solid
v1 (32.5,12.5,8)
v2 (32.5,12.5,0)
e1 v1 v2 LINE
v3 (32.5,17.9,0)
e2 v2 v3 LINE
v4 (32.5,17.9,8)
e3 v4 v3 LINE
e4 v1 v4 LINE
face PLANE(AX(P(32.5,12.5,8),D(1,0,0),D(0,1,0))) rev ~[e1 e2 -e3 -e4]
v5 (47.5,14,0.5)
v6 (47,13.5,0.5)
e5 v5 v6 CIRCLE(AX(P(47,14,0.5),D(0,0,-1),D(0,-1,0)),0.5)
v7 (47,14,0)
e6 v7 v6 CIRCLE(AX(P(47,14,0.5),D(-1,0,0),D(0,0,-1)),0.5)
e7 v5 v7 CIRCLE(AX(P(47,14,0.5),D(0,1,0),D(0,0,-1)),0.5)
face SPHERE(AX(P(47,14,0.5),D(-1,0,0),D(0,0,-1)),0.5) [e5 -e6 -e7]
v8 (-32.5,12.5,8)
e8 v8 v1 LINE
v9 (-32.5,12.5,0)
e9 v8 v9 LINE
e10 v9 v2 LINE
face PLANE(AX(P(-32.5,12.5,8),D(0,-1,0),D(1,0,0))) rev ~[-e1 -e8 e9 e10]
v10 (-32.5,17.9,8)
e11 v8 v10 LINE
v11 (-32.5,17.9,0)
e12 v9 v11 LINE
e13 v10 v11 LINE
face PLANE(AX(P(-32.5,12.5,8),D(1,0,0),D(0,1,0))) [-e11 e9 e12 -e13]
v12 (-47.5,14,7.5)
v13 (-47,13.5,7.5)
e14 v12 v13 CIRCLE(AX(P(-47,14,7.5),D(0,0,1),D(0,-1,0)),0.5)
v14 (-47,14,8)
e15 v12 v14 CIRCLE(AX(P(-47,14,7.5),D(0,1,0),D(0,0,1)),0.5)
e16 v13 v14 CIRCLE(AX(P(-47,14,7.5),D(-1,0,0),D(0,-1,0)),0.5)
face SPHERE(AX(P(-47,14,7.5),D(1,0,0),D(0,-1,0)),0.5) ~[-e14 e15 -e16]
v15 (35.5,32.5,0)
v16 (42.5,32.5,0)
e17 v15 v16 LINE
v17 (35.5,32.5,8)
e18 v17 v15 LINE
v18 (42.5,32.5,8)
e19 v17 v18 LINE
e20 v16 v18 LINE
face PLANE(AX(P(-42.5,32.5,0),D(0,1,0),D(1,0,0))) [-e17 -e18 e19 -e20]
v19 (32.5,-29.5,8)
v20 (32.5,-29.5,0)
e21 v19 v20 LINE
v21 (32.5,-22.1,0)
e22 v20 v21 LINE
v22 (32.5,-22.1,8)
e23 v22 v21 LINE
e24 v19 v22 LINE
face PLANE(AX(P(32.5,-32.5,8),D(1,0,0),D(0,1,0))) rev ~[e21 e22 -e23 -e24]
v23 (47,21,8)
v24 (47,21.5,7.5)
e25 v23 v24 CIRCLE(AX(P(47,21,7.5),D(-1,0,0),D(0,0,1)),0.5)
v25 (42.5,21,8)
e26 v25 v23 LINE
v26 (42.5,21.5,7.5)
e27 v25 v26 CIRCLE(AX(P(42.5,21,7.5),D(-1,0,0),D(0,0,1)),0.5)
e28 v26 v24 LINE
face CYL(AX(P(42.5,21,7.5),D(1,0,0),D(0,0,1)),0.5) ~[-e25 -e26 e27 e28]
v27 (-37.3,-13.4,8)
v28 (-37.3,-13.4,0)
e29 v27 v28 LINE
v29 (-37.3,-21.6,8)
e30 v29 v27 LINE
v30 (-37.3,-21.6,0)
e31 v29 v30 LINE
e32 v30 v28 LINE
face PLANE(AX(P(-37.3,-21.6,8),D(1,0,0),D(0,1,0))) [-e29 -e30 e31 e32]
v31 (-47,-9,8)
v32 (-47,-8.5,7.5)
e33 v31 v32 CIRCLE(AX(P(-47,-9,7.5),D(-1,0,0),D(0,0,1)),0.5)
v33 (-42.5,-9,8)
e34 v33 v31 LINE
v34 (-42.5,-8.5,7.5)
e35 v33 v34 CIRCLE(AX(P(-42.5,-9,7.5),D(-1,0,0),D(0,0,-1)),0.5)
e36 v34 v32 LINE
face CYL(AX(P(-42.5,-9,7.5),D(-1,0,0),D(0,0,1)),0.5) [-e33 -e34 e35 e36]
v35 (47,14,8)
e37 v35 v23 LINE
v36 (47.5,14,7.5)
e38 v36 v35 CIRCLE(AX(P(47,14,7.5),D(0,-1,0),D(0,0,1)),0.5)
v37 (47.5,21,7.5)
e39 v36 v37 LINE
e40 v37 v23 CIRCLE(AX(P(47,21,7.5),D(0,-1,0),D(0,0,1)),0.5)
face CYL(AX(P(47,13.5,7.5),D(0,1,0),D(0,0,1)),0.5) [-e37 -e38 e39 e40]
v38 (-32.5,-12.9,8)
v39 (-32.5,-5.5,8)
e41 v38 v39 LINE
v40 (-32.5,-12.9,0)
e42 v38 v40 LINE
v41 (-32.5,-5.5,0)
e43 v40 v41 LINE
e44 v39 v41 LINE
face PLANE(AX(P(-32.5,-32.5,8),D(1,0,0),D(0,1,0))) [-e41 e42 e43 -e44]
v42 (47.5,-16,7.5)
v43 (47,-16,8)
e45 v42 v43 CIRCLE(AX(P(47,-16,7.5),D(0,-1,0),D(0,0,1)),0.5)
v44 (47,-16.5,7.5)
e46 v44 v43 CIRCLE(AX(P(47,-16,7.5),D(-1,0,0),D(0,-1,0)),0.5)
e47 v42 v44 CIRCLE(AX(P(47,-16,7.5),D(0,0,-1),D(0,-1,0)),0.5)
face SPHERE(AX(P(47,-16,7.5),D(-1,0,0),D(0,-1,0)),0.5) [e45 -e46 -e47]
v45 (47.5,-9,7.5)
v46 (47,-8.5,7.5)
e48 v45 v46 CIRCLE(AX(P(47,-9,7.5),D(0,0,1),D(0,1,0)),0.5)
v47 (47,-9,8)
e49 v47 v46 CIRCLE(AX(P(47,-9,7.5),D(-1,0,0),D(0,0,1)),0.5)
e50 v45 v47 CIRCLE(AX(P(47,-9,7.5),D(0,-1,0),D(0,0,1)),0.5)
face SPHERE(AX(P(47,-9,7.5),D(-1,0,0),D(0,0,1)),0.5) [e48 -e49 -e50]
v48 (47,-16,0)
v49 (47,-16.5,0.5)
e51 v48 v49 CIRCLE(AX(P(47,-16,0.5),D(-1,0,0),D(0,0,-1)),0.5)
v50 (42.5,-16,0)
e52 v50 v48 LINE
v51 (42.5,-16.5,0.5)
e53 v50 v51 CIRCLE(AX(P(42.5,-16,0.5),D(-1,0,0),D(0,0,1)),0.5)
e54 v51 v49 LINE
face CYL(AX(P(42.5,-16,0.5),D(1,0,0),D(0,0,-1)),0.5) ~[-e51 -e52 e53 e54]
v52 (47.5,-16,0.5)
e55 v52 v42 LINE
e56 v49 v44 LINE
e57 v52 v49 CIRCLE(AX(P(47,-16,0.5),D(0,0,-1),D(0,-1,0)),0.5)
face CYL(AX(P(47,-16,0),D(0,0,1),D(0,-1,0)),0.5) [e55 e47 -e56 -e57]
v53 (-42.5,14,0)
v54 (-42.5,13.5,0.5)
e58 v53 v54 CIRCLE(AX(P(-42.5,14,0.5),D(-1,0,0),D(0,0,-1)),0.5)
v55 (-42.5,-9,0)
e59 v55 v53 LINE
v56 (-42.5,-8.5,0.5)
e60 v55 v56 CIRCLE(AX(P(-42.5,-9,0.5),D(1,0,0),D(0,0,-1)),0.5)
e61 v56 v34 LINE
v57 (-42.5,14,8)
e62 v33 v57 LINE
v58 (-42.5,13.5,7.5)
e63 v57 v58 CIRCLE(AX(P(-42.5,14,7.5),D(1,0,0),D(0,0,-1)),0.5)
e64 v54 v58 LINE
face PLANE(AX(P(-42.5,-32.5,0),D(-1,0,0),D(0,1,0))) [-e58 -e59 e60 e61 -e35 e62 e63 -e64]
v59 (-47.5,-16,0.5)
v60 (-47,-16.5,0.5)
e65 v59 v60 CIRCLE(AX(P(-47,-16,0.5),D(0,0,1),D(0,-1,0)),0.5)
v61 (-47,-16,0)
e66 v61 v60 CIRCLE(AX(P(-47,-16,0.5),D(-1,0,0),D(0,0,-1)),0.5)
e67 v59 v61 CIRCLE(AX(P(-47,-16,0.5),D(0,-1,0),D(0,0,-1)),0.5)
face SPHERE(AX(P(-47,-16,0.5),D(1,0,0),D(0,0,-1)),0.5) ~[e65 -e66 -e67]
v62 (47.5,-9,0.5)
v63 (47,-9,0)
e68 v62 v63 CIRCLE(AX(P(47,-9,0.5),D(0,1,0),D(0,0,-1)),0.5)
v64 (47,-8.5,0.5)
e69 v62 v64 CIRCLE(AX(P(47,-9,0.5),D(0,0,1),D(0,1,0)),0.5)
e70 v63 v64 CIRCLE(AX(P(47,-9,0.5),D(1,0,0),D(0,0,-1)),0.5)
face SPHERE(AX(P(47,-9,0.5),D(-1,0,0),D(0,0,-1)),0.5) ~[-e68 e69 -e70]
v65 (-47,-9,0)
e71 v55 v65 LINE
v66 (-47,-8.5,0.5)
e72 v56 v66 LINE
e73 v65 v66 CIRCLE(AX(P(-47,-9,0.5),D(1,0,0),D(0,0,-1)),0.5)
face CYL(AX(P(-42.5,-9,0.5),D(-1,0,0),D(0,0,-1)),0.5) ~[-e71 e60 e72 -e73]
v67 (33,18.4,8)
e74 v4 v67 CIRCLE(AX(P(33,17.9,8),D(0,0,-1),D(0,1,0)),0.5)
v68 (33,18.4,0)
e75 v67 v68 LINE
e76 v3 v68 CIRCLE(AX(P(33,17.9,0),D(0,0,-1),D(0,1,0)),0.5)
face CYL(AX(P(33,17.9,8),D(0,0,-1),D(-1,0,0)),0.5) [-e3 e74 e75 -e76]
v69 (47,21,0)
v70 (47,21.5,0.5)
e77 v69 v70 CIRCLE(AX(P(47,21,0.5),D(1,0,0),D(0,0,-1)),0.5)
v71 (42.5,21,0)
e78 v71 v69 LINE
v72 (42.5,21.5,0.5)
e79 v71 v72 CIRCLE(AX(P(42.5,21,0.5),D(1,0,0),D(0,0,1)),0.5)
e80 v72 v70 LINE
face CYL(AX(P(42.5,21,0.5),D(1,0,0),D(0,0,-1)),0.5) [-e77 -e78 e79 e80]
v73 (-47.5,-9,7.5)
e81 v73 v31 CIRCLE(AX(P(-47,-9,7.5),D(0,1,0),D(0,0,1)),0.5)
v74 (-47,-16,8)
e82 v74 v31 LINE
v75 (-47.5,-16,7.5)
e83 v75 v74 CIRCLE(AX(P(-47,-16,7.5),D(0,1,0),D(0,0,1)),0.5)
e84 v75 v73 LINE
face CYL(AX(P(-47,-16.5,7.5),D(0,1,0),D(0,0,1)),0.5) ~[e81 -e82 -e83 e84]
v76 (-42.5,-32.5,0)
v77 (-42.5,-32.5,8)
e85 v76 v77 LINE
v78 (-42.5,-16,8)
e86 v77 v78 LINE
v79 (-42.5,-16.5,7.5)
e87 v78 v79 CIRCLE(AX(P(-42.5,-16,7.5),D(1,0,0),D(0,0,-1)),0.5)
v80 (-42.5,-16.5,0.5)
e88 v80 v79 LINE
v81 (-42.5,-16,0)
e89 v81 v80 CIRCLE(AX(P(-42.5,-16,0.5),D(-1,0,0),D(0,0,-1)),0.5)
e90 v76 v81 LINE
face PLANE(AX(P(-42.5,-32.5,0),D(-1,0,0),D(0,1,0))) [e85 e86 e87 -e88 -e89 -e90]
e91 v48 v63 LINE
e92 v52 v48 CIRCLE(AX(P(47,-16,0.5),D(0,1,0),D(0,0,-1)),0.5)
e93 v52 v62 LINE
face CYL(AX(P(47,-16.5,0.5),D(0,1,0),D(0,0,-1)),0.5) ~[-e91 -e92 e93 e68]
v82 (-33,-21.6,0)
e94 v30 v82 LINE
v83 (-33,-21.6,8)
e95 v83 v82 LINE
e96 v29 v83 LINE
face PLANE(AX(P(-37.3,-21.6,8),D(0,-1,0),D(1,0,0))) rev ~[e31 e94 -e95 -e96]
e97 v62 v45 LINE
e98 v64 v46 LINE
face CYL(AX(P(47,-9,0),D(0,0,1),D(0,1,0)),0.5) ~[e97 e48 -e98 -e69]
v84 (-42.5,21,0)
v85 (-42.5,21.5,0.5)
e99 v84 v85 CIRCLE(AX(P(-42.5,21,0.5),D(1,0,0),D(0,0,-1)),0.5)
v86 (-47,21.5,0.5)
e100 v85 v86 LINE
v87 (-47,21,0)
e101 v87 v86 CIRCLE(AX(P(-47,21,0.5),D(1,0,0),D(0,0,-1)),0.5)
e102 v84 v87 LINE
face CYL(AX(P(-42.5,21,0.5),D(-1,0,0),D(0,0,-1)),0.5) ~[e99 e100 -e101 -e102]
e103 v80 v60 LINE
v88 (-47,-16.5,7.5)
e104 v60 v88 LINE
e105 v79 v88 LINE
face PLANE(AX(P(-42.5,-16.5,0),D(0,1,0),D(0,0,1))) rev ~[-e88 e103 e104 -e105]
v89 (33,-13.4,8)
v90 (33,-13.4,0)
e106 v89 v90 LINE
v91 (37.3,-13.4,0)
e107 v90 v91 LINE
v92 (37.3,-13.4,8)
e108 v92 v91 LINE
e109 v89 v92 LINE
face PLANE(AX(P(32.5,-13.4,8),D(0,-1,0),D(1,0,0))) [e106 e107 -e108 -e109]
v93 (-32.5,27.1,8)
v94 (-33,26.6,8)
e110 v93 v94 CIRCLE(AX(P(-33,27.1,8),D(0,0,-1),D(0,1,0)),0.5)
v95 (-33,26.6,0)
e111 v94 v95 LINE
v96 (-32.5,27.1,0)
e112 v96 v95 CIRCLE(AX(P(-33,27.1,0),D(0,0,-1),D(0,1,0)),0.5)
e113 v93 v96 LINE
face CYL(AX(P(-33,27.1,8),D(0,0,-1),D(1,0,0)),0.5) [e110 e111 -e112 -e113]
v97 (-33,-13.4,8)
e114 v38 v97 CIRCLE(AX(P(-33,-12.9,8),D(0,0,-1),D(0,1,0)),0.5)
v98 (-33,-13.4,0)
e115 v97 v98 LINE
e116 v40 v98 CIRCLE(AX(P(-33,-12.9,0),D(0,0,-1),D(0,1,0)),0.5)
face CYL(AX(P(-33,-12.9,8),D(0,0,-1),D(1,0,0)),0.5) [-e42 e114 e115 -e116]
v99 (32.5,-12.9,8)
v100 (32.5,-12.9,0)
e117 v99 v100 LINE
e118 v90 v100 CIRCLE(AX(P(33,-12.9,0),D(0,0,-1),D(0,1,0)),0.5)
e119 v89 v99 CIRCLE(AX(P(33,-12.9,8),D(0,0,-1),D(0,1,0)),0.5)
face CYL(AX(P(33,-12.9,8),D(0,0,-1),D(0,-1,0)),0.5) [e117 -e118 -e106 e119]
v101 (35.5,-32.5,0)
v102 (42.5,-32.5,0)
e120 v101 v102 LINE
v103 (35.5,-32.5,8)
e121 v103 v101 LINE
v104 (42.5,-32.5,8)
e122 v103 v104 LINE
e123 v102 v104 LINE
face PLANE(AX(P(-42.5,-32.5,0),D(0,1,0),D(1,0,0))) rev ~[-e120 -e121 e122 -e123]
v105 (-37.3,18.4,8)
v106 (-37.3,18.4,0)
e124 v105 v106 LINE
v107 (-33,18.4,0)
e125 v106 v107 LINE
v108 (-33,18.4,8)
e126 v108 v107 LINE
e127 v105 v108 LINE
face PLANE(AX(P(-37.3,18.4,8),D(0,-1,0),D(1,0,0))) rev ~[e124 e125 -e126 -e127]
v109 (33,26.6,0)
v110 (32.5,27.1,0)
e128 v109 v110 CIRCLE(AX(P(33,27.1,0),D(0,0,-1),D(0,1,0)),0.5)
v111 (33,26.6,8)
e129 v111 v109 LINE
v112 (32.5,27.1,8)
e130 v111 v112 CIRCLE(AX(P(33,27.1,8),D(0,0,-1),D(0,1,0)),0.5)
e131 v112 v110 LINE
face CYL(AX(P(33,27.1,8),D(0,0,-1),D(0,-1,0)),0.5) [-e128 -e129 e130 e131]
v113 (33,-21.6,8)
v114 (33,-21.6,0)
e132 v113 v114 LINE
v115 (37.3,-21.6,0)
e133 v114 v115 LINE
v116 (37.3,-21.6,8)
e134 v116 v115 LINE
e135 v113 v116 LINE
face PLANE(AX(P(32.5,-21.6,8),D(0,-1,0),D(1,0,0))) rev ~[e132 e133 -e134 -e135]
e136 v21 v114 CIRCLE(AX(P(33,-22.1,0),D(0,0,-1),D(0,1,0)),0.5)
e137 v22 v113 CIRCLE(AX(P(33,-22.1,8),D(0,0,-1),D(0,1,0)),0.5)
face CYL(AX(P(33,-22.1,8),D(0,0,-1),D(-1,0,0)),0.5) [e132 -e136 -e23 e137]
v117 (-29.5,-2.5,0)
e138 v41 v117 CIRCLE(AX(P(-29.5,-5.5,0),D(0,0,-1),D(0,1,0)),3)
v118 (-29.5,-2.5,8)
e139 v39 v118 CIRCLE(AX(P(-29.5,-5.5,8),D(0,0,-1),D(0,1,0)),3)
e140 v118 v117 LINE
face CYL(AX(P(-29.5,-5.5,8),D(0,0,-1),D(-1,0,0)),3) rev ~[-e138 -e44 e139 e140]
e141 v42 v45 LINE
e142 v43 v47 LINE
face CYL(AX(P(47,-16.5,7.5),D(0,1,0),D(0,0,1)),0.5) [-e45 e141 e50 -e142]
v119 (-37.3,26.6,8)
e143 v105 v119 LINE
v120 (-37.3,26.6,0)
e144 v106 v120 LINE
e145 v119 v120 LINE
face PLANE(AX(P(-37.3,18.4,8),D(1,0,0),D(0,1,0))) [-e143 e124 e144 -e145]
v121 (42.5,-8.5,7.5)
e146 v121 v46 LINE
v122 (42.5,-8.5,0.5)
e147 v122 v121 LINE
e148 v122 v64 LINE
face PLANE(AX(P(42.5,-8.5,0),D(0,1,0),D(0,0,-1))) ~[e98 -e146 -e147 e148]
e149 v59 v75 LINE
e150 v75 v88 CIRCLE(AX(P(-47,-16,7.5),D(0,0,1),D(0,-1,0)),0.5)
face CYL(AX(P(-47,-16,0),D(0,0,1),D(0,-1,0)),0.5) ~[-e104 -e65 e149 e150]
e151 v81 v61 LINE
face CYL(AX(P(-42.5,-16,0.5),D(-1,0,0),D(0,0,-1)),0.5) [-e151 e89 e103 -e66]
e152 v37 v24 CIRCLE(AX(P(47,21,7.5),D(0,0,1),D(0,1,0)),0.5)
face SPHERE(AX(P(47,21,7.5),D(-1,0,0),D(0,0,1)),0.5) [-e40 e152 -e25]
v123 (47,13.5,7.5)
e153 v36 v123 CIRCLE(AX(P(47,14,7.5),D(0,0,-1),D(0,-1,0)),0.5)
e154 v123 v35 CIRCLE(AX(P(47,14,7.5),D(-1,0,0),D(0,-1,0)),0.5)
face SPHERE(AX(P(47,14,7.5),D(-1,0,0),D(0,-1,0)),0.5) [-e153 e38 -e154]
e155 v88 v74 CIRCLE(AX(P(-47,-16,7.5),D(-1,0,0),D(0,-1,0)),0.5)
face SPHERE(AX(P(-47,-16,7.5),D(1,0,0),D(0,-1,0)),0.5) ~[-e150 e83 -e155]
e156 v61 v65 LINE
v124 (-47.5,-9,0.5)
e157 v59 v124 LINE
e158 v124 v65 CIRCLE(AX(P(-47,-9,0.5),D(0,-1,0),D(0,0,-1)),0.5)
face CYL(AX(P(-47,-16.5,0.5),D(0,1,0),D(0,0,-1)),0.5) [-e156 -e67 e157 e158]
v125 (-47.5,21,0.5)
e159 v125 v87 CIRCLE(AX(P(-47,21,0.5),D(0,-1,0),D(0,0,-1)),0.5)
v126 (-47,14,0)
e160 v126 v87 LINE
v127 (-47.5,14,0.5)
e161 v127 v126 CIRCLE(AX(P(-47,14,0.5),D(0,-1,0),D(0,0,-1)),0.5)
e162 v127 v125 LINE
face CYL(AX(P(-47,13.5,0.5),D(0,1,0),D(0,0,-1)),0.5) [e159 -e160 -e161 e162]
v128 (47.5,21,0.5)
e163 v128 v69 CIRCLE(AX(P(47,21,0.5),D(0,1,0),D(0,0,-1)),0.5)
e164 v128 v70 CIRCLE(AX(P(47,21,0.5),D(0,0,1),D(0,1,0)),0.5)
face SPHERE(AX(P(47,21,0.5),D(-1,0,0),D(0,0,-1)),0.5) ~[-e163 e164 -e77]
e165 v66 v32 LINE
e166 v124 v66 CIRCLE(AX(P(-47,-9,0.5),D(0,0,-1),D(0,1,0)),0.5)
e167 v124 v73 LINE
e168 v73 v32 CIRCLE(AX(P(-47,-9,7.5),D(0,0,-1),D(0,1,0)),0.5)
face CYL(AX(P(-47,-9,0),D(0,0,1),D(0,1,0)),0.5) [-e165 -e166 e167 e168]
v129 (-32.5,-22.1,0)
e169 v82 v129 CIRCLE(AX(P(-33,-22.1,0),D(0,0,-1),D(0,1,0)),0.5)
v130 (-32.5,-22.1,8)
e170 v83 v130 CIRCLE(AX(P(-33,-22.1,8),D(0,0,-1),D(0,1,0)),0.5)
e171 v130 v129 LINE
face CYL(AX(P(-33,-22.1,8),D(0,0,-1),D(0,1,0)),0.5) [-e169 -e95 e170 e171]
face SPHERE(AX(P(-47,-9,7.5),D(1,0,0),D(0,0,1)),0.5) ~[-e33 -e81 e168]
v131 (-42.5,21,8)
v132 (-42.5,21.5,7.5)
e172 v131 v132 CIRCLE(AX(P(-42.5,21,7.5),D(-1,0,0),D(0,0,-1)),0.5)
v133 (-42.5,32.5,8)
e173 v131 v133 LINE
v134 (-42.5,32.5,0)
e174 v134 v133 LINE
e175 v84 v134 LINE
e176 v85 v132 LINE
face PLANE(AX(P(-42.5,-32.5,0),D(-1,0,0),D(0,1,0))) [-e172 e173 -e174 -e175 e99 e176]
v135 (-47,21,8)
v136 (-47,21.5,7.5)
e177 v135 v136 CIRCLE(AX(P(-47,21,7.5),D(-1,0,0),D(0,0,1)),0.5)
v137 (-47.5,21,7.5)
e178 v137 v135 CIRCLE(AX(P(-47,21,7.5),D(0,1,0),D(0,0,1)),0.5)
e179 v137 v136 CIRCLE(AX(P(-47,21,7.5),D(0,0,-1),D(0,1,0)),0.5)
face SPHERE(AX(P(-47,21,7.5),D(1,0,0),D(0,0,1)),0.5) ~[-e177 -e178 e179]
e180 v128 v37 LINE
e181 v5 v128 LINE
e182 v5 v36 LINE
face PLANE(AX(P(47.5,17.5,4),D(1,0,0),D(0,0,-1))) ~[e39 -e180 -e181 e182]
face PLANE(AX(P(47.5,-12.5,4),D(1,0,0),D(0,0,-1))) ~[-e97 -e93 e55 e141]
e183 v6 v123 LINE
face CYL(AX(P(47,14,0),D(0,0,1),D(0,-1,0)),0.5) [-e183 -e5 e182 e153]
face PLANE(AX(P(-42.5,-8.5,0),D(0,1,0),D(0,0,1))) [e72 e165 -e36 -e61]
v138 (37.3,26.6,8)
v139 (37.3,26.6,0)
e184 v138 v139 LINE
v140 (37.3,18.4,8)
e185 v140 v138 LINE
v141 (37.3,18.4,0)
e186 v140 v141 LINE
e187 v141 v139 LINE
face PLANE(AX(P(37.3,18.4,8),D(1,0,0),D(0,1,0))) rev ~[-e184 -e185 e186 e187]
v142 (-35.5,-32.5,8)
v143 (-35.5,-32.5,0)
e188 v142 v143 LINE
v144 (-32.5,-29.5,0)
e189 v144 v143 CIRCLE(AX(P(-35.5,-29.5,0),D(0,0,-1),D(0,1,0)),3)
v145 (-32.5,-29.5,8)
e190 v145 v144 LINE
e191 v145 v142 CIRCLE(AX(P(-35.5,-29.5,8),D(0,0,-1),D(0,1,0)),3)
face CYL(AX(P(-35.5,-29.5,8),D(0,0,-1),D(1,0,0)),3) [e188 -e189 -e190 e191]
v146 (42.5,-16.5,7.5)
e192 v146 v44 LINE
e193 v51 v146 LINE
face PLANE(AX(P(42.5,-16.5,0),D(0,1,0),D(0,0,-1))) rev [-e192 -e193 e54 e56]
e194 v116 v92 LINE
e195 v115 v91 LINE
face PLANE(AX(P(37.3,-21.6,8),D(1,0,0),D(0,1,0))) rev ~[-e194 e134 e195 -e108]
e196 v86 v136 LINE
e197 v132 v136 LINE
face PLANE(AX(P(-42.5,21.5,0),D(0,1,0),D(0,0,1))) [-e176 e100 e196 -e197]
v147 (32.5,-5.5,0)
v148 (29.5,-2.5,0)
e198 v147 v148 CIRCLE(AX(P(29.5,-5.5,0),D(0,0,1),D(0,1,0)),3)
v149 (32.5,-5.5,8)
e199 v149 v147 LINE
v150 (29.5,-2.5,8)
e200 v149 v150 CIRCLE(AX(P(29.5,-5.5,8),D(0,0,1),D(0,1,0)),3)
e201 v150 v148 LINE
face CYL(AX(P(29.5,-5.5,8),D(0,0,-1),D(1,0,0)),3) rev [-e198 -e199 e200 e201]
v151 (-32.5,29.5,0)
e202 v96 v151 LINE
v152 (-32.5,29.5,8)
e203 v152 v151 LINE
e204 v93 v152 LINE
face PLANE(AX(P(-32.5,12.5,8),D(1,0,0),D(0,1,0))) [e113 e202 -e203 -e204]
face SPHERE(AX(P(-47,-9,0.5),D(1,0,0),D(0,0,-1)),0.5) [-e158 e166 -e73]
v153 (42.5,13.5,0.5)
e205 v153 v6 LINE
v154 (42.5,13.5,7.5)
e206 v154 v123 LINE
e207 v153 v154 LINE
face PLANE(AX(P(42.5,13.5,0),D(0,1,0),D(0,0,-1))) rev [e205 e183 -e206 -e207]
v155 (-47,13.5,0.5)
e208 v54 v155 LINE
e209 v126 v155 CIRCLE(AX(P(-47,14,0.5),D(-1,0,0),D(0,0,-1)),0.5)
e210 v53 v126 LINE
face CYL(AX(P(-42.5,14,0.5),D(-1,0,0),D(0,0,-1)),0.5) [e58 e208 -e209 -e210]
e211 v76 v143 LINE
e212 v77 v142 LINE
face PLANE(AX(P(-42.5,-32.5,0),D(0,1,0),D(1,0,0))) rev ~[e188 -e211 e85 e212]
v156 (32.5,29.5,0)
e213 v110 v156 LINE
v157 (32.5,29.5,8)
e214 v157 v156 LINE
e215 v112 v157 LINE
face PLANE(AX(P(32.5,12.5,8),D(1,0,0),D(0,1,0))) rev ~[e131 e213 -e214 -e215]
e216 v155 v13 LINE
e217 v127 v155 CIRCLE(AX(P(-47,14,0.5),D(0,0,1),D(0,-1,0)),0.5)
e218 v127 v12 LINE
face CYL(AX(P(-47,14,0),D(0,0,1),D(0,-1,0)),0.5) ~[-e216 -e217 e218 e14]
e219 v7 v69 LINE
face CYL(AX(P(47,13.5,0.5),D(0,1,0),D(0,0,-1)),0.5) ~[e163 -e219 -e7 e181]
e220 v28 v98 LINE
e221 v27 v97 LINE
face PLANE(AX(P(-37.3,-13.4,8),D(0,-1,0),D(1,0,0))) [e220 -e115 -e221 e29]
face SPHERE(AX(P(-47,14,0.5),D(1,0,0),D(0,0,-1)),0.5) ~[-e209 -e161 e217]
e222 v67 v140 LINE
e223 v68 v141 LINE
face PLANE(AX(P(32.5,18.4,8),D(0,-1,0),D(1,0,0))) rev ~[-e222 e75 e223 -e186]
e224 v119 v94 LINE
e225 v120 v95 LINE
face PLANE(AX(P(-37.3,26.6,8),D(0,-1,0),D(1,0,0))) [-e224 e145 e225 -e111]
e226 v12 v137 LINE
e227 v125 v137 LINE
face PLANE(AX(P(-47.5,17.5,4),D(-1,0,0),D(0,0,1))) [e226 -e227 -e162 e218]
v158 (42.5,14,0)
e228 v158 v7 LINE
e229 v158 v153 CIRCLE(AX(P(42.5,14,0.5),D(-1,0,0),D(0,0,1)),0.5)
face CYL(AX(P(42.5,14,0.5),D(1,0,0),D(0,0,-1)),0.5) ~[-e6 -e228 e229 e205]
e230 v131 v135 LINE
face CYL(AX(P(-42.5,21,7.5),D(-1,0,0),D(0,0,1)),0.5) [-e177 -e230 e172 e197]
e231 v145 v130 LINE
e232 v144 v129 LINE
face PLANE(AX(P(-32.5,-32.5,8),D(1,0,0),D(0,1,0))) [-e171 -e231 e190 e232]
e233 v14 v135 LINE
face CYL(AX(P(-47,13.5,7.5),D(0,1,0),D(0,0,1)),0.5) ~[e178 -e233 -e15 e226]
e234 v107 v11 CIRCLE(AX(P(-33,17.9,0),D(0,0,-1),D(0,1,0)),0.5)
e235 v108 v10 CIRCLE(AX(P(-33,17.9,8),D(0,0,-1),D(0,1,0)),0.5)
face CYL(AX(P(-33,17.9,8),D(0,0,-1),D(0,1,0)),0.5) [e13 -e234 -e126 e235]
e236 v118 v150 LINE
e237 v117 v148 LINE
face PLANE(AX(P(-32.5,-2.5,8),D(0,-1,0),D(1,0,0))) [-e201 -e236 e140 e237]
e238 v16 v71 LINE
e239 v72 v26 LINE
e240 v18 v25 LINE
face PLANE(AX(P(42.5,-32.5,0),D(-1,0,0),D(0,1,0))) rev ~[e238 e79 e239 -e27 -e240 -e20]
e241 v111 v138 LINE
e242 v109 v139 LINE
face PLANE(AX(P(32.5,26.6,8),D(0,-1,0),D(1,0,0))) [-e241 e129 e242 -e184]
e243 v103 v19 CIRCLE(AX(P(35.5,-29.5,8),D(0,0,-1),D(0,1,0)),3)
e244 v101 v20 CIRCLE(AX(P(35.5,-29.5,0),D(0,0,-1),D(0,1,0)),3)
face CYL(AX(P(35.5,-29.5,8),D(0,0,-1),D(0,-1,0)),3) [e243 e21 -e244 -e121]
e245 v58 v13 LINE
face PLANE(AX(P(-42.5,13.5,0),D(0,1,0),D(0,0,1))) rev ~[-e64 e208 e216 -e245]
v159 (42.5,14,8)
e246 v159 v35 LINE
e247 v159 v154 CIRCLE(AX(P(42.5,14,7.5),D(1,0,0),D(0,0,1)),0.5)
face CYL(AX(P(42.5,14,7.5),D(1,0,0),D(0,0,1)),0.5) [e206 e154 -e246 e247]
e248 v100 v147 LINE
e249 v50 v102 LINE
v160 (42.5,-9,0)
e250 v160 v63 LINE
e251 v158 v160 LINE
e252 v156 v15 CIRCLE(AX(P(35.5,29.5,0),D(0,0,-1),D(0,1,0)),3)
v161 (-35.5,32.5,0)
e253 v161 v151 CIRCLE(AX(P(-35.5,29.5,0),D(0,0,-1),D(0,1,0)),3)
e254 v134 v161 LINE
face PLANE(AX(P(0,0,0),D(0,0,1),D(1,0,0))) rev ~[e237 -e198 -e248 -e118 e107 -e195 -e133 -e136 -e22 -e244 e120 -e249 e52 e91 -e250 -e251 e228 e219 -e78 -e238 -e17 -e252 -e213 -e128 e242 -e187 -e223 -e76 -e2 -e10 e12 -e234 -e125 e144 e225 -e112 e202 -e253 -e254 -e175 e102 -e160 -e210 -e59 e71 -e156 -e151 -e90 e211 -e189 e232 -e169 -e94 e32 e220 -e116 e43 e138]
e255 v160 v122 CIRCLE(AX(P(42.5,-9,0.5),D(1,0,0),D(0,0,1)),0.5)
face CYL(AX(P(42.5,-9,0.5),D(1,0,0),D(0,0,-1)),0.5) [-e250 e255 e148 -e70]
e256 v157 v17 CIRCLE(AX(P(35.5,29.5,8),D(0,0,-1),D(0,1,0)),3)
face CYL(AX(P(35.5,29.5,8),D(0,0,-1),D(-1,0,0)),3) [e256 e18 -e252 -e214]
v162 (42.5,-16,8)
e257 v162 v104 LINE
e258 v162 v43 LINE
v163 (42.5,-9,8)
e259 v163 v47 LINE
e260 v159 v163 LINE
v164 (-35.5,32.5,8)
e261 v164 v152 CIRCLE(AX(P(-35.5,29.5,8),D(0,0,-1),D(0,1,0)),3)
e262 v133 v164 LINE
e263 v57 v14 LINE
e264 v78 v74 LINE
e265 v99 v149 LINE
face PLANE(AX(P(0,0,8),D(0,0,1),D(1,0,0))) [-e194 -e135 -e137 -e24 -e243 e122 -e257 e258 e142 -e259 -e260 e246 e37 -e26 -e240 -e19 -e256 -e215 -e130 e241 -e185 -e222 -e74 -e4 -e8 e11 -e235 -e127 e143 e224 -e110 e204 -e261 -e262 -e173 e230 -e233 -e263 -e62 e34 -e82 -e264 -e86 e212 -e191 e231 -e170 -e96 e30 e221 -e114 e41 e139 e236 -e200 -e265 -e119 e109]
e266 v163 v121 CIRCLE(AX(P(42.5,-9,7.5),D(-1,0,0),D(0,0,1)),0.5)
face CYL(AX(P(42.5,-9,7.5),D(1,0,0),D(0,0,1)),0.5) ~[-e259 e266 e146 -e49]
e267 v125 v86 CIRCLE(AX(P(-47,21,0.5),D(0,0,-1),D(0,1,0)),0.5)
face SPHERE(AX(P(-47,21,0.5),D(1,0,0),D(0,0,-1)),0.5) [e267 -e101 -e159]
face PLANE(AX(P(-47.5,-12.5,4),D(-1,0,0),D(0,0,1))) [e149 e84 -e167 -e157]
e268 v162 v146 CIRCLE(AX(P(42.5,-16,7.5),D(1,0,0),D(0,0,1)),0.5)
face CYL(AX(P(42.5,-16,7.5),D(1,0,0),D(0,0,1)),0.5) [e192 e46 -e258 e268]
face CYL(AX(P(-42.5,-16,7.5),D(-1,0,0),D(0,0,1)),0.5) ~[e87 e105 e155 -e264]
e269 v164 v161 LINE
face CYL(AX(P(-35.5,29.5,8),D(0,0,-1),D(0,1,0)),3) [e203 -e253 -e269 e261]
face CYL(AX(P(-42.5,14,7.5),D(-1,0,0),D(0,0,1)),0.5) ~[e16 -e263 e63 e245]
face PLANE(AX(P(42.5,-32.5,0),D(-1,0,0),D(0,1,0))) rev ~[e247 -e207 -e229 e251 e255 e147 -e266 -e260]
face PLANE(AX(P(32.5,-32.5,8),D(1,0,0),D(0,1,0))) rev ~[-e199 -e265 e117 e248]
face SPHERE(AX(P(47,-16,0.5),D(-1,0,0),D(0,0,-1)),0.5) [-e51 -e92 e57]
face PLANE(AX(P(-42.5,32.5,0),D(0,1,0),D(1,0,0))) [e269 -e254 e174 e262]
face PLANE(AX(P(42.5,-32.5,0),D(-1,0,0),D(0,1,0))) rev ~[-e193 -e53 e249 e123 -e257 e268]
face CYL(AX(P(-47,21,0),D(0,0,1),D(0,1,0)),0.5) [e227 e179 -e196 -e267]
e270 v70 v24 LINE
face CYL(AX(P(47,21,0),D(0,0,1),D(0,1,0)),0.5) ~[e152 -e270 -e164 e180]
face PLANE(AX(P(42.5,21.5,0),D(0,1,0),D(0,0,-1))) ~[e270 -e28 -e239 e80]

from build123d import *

# Parameters (mm, degrees)
CROQUIS1_W               = 85
CROQUIS1_H               = 65
SALIENTE_EXTRUIR1_DEPTH  = 8
CROQUIS2_W               = 65
CROQUIS2_H               = 20
CORTAR_EXTRUIR1_DEPTH    = 8
CROQUIS3_W               = 65
CROQUIS3_H               = 30
CORTAR_EXTRUIR2_DEPTH    = 8
REDONDEO1_R              = 3
CROQUIS4_W               = 8
CROQUIS4_H               = 8
SALIENTE_EXTRUIR2_DEPTH  = 5
REDONDEO2_R              = 0.5
REDONDEO2_OF_SIMETR_A1_R = 0.5
REDONDEO3_R              = 3
CROQUIS5_W               = 4.8
CROQUIS5_H               = 8.2
CORTAR_EXTRUIR3_DEPTH    = 59.107658703
REDONDEO4_R              = 0.5


with BuildPart() as part:
    # Croquis1 → Saliente-Extruir1 (new body)
    with BuildSketch(Plane.XY):
        Rectangle(CROQUIS1_W, CROQUIS1_H)
    extrude(amount=SALIENTE_EXTRUIR1_DEPTH)

    # Croquis2 → Cortar-Extruir1 (cut)
    with BuildSketch(Plane.XY.offset(8)):
        with Locations((0, 22.5)):
            Rectangle(CROQUIS2_W, CROQUIS2_H)
    extrude(amount=-CORTAR_EXTRUIR1_DEPTH, mode=Mode.SUBTRACT)

    # Croquis3 → Cortar-Extruir2 (cut)
    with BuildSketch(Plane.XY.offset(8)):
        with Locations((0, -17.5)):
            Rectangle(CROQUIS3_W, CROQUIS3_H)
    extrude(amount=-CORTAR_EXTRUIR2_DEPTH, mode=Mode.SUBTRACT)

    # Redondeo1
    redondeo1_edges = [part.edges().sort_by_distance(p)[0] for p in [
        (-32.5, -2.5, 4),
        (32.5, -2.5, 4),
    ]]
    fillet(redondeo1_edges, radius=REDONDEO1_R)

    # Croquis4 → Saliente-Extruir2 (add)
    with BuildSketch(Plane.ZY.offset(42.5)):
        with Locations((4, -12.5)):
            Rectangle(CROQUIS4_W, CROQUIS4_H)
        with Locations((4, 17.5)):
            Rectangle(CROQUIS4_W, CROQUIS4_H)
    saliente_extruir2 = extrude(amount=SALIENTE_EXTRUIR2_DEPTH)

    # Redondeo2
    redondeo2_edges = [part.edges().sort_by_distance(p)[0] for p in [
        (-45, -8.5, 0),
        (-45, -16.5, 0),
        (-45, -16.5, 8),
        (-45, -8.5, 8),
        (-47.5, -12.5, 0),
        (-47.5, -16.5, 4),
        (-47.5, -12.5, 8),
        (-47.5, -8.5, 4),
        (-45, 21.5, 0),
        (-45, 13.5, 0),
        (-45, 13.5, 8),
        (-45, 21.5, 8),
        (-47.5, 17.5, 0),
        (-47.5, 13.5, 4),
        (-47.5, 17.5, 8),
        (-47.5, 21.5, 4),
    ]]
    fillet(redondeo2_edges, radius=REDONDEO2_R)

    # Simetría1: Saliente-Extruir2 across plane
    add(saliente_extruir2.mirror(Plane(origin=(0, 0, 0), x_dir=(0, 0, 1), z_dir=(1, 0, 0))))

    # Redondeo2 of Simetría1
    redondeo2_of_simetr_a1_edges = [part.edges().sort_by_distance(p)[0] for p in [
        (45, -8.5, 0),
        (45, -16.5, 0),
        (45, -16.5, 8),
        (45, -8.5, 8),
        (47.5, -12.5, 0),
        (47.5, -16.5, 4),
        (47.5, -12.5, 8),
        (47.5, -8.5, 4),
        (45, 21.5, 0),
        (45, 13.5, 0),
        (45, 13.5, 8),
        (45, 21.5, 8),
        (47.5, 17.5, 0),
        (47.5, 13.5, 4),
        (47.5, 17.5, 8),
        (47.5, 21.5, 4),
    ]]
    fillet(redondeo2_of_simetr_a1_edges, radius=REDONDEO2_OF_SIMETR_A1_R)

    # Redondeo3
    redondeo3_edges = [part.edges().sort_by_distance(p)[0] for p in [
        (-32.5, 32.5, 4),
        (32.5, 32.5, 4),
        (-32.5, -32.5, 4),
        (32.5, -32.5, 4),
    ]]
    fillet(redondeo3_edges, radius=REDONDEO3_R)

    # Croquis5 → Cortar-Extruir3 (cut, through all)
    with BuildSketch(Plane.XY.offset(8)):
        with Locations((-34.9, 22.5)):
            Rectangle(CROQUIS5_W, CROQUIS5_H)
        with Locations((-34.9, -17.5)):
            Rectangle(CROQUIS5_W, CROQUIS5_H)
        with Locations((34.9, -17.5)):
            Rectangle(CROQUIS5_W, CROQUIS5_H)
        with Locations((34.9, 22.5)):
            Rectangle(CROQUIS5_W, CROQUIS5_H)
    extrude(amount=-CORTAR_EXTRUIR3_DEPTH, mode=Mode.SUBTRACT)

    # Redondeo4
    redondeo4_edges = [part.edges().sort_by_distance(p)[0] for p in [
        (32.5, 26.6, 4),
        (32.5, 18.4, 4),
        (32.5, -13.4, 4),
        (32.5, -21.6, 4),
        (-32.5, -13.4, 4),
        (-32.5, -21.6, 4),
        (-32.5, 26.6, 4),
        (-32.5, 18.4, 4),
    ]]
    fillet(redondeo4_edges, radius=REDONDEO4_R)


solid = part.part
